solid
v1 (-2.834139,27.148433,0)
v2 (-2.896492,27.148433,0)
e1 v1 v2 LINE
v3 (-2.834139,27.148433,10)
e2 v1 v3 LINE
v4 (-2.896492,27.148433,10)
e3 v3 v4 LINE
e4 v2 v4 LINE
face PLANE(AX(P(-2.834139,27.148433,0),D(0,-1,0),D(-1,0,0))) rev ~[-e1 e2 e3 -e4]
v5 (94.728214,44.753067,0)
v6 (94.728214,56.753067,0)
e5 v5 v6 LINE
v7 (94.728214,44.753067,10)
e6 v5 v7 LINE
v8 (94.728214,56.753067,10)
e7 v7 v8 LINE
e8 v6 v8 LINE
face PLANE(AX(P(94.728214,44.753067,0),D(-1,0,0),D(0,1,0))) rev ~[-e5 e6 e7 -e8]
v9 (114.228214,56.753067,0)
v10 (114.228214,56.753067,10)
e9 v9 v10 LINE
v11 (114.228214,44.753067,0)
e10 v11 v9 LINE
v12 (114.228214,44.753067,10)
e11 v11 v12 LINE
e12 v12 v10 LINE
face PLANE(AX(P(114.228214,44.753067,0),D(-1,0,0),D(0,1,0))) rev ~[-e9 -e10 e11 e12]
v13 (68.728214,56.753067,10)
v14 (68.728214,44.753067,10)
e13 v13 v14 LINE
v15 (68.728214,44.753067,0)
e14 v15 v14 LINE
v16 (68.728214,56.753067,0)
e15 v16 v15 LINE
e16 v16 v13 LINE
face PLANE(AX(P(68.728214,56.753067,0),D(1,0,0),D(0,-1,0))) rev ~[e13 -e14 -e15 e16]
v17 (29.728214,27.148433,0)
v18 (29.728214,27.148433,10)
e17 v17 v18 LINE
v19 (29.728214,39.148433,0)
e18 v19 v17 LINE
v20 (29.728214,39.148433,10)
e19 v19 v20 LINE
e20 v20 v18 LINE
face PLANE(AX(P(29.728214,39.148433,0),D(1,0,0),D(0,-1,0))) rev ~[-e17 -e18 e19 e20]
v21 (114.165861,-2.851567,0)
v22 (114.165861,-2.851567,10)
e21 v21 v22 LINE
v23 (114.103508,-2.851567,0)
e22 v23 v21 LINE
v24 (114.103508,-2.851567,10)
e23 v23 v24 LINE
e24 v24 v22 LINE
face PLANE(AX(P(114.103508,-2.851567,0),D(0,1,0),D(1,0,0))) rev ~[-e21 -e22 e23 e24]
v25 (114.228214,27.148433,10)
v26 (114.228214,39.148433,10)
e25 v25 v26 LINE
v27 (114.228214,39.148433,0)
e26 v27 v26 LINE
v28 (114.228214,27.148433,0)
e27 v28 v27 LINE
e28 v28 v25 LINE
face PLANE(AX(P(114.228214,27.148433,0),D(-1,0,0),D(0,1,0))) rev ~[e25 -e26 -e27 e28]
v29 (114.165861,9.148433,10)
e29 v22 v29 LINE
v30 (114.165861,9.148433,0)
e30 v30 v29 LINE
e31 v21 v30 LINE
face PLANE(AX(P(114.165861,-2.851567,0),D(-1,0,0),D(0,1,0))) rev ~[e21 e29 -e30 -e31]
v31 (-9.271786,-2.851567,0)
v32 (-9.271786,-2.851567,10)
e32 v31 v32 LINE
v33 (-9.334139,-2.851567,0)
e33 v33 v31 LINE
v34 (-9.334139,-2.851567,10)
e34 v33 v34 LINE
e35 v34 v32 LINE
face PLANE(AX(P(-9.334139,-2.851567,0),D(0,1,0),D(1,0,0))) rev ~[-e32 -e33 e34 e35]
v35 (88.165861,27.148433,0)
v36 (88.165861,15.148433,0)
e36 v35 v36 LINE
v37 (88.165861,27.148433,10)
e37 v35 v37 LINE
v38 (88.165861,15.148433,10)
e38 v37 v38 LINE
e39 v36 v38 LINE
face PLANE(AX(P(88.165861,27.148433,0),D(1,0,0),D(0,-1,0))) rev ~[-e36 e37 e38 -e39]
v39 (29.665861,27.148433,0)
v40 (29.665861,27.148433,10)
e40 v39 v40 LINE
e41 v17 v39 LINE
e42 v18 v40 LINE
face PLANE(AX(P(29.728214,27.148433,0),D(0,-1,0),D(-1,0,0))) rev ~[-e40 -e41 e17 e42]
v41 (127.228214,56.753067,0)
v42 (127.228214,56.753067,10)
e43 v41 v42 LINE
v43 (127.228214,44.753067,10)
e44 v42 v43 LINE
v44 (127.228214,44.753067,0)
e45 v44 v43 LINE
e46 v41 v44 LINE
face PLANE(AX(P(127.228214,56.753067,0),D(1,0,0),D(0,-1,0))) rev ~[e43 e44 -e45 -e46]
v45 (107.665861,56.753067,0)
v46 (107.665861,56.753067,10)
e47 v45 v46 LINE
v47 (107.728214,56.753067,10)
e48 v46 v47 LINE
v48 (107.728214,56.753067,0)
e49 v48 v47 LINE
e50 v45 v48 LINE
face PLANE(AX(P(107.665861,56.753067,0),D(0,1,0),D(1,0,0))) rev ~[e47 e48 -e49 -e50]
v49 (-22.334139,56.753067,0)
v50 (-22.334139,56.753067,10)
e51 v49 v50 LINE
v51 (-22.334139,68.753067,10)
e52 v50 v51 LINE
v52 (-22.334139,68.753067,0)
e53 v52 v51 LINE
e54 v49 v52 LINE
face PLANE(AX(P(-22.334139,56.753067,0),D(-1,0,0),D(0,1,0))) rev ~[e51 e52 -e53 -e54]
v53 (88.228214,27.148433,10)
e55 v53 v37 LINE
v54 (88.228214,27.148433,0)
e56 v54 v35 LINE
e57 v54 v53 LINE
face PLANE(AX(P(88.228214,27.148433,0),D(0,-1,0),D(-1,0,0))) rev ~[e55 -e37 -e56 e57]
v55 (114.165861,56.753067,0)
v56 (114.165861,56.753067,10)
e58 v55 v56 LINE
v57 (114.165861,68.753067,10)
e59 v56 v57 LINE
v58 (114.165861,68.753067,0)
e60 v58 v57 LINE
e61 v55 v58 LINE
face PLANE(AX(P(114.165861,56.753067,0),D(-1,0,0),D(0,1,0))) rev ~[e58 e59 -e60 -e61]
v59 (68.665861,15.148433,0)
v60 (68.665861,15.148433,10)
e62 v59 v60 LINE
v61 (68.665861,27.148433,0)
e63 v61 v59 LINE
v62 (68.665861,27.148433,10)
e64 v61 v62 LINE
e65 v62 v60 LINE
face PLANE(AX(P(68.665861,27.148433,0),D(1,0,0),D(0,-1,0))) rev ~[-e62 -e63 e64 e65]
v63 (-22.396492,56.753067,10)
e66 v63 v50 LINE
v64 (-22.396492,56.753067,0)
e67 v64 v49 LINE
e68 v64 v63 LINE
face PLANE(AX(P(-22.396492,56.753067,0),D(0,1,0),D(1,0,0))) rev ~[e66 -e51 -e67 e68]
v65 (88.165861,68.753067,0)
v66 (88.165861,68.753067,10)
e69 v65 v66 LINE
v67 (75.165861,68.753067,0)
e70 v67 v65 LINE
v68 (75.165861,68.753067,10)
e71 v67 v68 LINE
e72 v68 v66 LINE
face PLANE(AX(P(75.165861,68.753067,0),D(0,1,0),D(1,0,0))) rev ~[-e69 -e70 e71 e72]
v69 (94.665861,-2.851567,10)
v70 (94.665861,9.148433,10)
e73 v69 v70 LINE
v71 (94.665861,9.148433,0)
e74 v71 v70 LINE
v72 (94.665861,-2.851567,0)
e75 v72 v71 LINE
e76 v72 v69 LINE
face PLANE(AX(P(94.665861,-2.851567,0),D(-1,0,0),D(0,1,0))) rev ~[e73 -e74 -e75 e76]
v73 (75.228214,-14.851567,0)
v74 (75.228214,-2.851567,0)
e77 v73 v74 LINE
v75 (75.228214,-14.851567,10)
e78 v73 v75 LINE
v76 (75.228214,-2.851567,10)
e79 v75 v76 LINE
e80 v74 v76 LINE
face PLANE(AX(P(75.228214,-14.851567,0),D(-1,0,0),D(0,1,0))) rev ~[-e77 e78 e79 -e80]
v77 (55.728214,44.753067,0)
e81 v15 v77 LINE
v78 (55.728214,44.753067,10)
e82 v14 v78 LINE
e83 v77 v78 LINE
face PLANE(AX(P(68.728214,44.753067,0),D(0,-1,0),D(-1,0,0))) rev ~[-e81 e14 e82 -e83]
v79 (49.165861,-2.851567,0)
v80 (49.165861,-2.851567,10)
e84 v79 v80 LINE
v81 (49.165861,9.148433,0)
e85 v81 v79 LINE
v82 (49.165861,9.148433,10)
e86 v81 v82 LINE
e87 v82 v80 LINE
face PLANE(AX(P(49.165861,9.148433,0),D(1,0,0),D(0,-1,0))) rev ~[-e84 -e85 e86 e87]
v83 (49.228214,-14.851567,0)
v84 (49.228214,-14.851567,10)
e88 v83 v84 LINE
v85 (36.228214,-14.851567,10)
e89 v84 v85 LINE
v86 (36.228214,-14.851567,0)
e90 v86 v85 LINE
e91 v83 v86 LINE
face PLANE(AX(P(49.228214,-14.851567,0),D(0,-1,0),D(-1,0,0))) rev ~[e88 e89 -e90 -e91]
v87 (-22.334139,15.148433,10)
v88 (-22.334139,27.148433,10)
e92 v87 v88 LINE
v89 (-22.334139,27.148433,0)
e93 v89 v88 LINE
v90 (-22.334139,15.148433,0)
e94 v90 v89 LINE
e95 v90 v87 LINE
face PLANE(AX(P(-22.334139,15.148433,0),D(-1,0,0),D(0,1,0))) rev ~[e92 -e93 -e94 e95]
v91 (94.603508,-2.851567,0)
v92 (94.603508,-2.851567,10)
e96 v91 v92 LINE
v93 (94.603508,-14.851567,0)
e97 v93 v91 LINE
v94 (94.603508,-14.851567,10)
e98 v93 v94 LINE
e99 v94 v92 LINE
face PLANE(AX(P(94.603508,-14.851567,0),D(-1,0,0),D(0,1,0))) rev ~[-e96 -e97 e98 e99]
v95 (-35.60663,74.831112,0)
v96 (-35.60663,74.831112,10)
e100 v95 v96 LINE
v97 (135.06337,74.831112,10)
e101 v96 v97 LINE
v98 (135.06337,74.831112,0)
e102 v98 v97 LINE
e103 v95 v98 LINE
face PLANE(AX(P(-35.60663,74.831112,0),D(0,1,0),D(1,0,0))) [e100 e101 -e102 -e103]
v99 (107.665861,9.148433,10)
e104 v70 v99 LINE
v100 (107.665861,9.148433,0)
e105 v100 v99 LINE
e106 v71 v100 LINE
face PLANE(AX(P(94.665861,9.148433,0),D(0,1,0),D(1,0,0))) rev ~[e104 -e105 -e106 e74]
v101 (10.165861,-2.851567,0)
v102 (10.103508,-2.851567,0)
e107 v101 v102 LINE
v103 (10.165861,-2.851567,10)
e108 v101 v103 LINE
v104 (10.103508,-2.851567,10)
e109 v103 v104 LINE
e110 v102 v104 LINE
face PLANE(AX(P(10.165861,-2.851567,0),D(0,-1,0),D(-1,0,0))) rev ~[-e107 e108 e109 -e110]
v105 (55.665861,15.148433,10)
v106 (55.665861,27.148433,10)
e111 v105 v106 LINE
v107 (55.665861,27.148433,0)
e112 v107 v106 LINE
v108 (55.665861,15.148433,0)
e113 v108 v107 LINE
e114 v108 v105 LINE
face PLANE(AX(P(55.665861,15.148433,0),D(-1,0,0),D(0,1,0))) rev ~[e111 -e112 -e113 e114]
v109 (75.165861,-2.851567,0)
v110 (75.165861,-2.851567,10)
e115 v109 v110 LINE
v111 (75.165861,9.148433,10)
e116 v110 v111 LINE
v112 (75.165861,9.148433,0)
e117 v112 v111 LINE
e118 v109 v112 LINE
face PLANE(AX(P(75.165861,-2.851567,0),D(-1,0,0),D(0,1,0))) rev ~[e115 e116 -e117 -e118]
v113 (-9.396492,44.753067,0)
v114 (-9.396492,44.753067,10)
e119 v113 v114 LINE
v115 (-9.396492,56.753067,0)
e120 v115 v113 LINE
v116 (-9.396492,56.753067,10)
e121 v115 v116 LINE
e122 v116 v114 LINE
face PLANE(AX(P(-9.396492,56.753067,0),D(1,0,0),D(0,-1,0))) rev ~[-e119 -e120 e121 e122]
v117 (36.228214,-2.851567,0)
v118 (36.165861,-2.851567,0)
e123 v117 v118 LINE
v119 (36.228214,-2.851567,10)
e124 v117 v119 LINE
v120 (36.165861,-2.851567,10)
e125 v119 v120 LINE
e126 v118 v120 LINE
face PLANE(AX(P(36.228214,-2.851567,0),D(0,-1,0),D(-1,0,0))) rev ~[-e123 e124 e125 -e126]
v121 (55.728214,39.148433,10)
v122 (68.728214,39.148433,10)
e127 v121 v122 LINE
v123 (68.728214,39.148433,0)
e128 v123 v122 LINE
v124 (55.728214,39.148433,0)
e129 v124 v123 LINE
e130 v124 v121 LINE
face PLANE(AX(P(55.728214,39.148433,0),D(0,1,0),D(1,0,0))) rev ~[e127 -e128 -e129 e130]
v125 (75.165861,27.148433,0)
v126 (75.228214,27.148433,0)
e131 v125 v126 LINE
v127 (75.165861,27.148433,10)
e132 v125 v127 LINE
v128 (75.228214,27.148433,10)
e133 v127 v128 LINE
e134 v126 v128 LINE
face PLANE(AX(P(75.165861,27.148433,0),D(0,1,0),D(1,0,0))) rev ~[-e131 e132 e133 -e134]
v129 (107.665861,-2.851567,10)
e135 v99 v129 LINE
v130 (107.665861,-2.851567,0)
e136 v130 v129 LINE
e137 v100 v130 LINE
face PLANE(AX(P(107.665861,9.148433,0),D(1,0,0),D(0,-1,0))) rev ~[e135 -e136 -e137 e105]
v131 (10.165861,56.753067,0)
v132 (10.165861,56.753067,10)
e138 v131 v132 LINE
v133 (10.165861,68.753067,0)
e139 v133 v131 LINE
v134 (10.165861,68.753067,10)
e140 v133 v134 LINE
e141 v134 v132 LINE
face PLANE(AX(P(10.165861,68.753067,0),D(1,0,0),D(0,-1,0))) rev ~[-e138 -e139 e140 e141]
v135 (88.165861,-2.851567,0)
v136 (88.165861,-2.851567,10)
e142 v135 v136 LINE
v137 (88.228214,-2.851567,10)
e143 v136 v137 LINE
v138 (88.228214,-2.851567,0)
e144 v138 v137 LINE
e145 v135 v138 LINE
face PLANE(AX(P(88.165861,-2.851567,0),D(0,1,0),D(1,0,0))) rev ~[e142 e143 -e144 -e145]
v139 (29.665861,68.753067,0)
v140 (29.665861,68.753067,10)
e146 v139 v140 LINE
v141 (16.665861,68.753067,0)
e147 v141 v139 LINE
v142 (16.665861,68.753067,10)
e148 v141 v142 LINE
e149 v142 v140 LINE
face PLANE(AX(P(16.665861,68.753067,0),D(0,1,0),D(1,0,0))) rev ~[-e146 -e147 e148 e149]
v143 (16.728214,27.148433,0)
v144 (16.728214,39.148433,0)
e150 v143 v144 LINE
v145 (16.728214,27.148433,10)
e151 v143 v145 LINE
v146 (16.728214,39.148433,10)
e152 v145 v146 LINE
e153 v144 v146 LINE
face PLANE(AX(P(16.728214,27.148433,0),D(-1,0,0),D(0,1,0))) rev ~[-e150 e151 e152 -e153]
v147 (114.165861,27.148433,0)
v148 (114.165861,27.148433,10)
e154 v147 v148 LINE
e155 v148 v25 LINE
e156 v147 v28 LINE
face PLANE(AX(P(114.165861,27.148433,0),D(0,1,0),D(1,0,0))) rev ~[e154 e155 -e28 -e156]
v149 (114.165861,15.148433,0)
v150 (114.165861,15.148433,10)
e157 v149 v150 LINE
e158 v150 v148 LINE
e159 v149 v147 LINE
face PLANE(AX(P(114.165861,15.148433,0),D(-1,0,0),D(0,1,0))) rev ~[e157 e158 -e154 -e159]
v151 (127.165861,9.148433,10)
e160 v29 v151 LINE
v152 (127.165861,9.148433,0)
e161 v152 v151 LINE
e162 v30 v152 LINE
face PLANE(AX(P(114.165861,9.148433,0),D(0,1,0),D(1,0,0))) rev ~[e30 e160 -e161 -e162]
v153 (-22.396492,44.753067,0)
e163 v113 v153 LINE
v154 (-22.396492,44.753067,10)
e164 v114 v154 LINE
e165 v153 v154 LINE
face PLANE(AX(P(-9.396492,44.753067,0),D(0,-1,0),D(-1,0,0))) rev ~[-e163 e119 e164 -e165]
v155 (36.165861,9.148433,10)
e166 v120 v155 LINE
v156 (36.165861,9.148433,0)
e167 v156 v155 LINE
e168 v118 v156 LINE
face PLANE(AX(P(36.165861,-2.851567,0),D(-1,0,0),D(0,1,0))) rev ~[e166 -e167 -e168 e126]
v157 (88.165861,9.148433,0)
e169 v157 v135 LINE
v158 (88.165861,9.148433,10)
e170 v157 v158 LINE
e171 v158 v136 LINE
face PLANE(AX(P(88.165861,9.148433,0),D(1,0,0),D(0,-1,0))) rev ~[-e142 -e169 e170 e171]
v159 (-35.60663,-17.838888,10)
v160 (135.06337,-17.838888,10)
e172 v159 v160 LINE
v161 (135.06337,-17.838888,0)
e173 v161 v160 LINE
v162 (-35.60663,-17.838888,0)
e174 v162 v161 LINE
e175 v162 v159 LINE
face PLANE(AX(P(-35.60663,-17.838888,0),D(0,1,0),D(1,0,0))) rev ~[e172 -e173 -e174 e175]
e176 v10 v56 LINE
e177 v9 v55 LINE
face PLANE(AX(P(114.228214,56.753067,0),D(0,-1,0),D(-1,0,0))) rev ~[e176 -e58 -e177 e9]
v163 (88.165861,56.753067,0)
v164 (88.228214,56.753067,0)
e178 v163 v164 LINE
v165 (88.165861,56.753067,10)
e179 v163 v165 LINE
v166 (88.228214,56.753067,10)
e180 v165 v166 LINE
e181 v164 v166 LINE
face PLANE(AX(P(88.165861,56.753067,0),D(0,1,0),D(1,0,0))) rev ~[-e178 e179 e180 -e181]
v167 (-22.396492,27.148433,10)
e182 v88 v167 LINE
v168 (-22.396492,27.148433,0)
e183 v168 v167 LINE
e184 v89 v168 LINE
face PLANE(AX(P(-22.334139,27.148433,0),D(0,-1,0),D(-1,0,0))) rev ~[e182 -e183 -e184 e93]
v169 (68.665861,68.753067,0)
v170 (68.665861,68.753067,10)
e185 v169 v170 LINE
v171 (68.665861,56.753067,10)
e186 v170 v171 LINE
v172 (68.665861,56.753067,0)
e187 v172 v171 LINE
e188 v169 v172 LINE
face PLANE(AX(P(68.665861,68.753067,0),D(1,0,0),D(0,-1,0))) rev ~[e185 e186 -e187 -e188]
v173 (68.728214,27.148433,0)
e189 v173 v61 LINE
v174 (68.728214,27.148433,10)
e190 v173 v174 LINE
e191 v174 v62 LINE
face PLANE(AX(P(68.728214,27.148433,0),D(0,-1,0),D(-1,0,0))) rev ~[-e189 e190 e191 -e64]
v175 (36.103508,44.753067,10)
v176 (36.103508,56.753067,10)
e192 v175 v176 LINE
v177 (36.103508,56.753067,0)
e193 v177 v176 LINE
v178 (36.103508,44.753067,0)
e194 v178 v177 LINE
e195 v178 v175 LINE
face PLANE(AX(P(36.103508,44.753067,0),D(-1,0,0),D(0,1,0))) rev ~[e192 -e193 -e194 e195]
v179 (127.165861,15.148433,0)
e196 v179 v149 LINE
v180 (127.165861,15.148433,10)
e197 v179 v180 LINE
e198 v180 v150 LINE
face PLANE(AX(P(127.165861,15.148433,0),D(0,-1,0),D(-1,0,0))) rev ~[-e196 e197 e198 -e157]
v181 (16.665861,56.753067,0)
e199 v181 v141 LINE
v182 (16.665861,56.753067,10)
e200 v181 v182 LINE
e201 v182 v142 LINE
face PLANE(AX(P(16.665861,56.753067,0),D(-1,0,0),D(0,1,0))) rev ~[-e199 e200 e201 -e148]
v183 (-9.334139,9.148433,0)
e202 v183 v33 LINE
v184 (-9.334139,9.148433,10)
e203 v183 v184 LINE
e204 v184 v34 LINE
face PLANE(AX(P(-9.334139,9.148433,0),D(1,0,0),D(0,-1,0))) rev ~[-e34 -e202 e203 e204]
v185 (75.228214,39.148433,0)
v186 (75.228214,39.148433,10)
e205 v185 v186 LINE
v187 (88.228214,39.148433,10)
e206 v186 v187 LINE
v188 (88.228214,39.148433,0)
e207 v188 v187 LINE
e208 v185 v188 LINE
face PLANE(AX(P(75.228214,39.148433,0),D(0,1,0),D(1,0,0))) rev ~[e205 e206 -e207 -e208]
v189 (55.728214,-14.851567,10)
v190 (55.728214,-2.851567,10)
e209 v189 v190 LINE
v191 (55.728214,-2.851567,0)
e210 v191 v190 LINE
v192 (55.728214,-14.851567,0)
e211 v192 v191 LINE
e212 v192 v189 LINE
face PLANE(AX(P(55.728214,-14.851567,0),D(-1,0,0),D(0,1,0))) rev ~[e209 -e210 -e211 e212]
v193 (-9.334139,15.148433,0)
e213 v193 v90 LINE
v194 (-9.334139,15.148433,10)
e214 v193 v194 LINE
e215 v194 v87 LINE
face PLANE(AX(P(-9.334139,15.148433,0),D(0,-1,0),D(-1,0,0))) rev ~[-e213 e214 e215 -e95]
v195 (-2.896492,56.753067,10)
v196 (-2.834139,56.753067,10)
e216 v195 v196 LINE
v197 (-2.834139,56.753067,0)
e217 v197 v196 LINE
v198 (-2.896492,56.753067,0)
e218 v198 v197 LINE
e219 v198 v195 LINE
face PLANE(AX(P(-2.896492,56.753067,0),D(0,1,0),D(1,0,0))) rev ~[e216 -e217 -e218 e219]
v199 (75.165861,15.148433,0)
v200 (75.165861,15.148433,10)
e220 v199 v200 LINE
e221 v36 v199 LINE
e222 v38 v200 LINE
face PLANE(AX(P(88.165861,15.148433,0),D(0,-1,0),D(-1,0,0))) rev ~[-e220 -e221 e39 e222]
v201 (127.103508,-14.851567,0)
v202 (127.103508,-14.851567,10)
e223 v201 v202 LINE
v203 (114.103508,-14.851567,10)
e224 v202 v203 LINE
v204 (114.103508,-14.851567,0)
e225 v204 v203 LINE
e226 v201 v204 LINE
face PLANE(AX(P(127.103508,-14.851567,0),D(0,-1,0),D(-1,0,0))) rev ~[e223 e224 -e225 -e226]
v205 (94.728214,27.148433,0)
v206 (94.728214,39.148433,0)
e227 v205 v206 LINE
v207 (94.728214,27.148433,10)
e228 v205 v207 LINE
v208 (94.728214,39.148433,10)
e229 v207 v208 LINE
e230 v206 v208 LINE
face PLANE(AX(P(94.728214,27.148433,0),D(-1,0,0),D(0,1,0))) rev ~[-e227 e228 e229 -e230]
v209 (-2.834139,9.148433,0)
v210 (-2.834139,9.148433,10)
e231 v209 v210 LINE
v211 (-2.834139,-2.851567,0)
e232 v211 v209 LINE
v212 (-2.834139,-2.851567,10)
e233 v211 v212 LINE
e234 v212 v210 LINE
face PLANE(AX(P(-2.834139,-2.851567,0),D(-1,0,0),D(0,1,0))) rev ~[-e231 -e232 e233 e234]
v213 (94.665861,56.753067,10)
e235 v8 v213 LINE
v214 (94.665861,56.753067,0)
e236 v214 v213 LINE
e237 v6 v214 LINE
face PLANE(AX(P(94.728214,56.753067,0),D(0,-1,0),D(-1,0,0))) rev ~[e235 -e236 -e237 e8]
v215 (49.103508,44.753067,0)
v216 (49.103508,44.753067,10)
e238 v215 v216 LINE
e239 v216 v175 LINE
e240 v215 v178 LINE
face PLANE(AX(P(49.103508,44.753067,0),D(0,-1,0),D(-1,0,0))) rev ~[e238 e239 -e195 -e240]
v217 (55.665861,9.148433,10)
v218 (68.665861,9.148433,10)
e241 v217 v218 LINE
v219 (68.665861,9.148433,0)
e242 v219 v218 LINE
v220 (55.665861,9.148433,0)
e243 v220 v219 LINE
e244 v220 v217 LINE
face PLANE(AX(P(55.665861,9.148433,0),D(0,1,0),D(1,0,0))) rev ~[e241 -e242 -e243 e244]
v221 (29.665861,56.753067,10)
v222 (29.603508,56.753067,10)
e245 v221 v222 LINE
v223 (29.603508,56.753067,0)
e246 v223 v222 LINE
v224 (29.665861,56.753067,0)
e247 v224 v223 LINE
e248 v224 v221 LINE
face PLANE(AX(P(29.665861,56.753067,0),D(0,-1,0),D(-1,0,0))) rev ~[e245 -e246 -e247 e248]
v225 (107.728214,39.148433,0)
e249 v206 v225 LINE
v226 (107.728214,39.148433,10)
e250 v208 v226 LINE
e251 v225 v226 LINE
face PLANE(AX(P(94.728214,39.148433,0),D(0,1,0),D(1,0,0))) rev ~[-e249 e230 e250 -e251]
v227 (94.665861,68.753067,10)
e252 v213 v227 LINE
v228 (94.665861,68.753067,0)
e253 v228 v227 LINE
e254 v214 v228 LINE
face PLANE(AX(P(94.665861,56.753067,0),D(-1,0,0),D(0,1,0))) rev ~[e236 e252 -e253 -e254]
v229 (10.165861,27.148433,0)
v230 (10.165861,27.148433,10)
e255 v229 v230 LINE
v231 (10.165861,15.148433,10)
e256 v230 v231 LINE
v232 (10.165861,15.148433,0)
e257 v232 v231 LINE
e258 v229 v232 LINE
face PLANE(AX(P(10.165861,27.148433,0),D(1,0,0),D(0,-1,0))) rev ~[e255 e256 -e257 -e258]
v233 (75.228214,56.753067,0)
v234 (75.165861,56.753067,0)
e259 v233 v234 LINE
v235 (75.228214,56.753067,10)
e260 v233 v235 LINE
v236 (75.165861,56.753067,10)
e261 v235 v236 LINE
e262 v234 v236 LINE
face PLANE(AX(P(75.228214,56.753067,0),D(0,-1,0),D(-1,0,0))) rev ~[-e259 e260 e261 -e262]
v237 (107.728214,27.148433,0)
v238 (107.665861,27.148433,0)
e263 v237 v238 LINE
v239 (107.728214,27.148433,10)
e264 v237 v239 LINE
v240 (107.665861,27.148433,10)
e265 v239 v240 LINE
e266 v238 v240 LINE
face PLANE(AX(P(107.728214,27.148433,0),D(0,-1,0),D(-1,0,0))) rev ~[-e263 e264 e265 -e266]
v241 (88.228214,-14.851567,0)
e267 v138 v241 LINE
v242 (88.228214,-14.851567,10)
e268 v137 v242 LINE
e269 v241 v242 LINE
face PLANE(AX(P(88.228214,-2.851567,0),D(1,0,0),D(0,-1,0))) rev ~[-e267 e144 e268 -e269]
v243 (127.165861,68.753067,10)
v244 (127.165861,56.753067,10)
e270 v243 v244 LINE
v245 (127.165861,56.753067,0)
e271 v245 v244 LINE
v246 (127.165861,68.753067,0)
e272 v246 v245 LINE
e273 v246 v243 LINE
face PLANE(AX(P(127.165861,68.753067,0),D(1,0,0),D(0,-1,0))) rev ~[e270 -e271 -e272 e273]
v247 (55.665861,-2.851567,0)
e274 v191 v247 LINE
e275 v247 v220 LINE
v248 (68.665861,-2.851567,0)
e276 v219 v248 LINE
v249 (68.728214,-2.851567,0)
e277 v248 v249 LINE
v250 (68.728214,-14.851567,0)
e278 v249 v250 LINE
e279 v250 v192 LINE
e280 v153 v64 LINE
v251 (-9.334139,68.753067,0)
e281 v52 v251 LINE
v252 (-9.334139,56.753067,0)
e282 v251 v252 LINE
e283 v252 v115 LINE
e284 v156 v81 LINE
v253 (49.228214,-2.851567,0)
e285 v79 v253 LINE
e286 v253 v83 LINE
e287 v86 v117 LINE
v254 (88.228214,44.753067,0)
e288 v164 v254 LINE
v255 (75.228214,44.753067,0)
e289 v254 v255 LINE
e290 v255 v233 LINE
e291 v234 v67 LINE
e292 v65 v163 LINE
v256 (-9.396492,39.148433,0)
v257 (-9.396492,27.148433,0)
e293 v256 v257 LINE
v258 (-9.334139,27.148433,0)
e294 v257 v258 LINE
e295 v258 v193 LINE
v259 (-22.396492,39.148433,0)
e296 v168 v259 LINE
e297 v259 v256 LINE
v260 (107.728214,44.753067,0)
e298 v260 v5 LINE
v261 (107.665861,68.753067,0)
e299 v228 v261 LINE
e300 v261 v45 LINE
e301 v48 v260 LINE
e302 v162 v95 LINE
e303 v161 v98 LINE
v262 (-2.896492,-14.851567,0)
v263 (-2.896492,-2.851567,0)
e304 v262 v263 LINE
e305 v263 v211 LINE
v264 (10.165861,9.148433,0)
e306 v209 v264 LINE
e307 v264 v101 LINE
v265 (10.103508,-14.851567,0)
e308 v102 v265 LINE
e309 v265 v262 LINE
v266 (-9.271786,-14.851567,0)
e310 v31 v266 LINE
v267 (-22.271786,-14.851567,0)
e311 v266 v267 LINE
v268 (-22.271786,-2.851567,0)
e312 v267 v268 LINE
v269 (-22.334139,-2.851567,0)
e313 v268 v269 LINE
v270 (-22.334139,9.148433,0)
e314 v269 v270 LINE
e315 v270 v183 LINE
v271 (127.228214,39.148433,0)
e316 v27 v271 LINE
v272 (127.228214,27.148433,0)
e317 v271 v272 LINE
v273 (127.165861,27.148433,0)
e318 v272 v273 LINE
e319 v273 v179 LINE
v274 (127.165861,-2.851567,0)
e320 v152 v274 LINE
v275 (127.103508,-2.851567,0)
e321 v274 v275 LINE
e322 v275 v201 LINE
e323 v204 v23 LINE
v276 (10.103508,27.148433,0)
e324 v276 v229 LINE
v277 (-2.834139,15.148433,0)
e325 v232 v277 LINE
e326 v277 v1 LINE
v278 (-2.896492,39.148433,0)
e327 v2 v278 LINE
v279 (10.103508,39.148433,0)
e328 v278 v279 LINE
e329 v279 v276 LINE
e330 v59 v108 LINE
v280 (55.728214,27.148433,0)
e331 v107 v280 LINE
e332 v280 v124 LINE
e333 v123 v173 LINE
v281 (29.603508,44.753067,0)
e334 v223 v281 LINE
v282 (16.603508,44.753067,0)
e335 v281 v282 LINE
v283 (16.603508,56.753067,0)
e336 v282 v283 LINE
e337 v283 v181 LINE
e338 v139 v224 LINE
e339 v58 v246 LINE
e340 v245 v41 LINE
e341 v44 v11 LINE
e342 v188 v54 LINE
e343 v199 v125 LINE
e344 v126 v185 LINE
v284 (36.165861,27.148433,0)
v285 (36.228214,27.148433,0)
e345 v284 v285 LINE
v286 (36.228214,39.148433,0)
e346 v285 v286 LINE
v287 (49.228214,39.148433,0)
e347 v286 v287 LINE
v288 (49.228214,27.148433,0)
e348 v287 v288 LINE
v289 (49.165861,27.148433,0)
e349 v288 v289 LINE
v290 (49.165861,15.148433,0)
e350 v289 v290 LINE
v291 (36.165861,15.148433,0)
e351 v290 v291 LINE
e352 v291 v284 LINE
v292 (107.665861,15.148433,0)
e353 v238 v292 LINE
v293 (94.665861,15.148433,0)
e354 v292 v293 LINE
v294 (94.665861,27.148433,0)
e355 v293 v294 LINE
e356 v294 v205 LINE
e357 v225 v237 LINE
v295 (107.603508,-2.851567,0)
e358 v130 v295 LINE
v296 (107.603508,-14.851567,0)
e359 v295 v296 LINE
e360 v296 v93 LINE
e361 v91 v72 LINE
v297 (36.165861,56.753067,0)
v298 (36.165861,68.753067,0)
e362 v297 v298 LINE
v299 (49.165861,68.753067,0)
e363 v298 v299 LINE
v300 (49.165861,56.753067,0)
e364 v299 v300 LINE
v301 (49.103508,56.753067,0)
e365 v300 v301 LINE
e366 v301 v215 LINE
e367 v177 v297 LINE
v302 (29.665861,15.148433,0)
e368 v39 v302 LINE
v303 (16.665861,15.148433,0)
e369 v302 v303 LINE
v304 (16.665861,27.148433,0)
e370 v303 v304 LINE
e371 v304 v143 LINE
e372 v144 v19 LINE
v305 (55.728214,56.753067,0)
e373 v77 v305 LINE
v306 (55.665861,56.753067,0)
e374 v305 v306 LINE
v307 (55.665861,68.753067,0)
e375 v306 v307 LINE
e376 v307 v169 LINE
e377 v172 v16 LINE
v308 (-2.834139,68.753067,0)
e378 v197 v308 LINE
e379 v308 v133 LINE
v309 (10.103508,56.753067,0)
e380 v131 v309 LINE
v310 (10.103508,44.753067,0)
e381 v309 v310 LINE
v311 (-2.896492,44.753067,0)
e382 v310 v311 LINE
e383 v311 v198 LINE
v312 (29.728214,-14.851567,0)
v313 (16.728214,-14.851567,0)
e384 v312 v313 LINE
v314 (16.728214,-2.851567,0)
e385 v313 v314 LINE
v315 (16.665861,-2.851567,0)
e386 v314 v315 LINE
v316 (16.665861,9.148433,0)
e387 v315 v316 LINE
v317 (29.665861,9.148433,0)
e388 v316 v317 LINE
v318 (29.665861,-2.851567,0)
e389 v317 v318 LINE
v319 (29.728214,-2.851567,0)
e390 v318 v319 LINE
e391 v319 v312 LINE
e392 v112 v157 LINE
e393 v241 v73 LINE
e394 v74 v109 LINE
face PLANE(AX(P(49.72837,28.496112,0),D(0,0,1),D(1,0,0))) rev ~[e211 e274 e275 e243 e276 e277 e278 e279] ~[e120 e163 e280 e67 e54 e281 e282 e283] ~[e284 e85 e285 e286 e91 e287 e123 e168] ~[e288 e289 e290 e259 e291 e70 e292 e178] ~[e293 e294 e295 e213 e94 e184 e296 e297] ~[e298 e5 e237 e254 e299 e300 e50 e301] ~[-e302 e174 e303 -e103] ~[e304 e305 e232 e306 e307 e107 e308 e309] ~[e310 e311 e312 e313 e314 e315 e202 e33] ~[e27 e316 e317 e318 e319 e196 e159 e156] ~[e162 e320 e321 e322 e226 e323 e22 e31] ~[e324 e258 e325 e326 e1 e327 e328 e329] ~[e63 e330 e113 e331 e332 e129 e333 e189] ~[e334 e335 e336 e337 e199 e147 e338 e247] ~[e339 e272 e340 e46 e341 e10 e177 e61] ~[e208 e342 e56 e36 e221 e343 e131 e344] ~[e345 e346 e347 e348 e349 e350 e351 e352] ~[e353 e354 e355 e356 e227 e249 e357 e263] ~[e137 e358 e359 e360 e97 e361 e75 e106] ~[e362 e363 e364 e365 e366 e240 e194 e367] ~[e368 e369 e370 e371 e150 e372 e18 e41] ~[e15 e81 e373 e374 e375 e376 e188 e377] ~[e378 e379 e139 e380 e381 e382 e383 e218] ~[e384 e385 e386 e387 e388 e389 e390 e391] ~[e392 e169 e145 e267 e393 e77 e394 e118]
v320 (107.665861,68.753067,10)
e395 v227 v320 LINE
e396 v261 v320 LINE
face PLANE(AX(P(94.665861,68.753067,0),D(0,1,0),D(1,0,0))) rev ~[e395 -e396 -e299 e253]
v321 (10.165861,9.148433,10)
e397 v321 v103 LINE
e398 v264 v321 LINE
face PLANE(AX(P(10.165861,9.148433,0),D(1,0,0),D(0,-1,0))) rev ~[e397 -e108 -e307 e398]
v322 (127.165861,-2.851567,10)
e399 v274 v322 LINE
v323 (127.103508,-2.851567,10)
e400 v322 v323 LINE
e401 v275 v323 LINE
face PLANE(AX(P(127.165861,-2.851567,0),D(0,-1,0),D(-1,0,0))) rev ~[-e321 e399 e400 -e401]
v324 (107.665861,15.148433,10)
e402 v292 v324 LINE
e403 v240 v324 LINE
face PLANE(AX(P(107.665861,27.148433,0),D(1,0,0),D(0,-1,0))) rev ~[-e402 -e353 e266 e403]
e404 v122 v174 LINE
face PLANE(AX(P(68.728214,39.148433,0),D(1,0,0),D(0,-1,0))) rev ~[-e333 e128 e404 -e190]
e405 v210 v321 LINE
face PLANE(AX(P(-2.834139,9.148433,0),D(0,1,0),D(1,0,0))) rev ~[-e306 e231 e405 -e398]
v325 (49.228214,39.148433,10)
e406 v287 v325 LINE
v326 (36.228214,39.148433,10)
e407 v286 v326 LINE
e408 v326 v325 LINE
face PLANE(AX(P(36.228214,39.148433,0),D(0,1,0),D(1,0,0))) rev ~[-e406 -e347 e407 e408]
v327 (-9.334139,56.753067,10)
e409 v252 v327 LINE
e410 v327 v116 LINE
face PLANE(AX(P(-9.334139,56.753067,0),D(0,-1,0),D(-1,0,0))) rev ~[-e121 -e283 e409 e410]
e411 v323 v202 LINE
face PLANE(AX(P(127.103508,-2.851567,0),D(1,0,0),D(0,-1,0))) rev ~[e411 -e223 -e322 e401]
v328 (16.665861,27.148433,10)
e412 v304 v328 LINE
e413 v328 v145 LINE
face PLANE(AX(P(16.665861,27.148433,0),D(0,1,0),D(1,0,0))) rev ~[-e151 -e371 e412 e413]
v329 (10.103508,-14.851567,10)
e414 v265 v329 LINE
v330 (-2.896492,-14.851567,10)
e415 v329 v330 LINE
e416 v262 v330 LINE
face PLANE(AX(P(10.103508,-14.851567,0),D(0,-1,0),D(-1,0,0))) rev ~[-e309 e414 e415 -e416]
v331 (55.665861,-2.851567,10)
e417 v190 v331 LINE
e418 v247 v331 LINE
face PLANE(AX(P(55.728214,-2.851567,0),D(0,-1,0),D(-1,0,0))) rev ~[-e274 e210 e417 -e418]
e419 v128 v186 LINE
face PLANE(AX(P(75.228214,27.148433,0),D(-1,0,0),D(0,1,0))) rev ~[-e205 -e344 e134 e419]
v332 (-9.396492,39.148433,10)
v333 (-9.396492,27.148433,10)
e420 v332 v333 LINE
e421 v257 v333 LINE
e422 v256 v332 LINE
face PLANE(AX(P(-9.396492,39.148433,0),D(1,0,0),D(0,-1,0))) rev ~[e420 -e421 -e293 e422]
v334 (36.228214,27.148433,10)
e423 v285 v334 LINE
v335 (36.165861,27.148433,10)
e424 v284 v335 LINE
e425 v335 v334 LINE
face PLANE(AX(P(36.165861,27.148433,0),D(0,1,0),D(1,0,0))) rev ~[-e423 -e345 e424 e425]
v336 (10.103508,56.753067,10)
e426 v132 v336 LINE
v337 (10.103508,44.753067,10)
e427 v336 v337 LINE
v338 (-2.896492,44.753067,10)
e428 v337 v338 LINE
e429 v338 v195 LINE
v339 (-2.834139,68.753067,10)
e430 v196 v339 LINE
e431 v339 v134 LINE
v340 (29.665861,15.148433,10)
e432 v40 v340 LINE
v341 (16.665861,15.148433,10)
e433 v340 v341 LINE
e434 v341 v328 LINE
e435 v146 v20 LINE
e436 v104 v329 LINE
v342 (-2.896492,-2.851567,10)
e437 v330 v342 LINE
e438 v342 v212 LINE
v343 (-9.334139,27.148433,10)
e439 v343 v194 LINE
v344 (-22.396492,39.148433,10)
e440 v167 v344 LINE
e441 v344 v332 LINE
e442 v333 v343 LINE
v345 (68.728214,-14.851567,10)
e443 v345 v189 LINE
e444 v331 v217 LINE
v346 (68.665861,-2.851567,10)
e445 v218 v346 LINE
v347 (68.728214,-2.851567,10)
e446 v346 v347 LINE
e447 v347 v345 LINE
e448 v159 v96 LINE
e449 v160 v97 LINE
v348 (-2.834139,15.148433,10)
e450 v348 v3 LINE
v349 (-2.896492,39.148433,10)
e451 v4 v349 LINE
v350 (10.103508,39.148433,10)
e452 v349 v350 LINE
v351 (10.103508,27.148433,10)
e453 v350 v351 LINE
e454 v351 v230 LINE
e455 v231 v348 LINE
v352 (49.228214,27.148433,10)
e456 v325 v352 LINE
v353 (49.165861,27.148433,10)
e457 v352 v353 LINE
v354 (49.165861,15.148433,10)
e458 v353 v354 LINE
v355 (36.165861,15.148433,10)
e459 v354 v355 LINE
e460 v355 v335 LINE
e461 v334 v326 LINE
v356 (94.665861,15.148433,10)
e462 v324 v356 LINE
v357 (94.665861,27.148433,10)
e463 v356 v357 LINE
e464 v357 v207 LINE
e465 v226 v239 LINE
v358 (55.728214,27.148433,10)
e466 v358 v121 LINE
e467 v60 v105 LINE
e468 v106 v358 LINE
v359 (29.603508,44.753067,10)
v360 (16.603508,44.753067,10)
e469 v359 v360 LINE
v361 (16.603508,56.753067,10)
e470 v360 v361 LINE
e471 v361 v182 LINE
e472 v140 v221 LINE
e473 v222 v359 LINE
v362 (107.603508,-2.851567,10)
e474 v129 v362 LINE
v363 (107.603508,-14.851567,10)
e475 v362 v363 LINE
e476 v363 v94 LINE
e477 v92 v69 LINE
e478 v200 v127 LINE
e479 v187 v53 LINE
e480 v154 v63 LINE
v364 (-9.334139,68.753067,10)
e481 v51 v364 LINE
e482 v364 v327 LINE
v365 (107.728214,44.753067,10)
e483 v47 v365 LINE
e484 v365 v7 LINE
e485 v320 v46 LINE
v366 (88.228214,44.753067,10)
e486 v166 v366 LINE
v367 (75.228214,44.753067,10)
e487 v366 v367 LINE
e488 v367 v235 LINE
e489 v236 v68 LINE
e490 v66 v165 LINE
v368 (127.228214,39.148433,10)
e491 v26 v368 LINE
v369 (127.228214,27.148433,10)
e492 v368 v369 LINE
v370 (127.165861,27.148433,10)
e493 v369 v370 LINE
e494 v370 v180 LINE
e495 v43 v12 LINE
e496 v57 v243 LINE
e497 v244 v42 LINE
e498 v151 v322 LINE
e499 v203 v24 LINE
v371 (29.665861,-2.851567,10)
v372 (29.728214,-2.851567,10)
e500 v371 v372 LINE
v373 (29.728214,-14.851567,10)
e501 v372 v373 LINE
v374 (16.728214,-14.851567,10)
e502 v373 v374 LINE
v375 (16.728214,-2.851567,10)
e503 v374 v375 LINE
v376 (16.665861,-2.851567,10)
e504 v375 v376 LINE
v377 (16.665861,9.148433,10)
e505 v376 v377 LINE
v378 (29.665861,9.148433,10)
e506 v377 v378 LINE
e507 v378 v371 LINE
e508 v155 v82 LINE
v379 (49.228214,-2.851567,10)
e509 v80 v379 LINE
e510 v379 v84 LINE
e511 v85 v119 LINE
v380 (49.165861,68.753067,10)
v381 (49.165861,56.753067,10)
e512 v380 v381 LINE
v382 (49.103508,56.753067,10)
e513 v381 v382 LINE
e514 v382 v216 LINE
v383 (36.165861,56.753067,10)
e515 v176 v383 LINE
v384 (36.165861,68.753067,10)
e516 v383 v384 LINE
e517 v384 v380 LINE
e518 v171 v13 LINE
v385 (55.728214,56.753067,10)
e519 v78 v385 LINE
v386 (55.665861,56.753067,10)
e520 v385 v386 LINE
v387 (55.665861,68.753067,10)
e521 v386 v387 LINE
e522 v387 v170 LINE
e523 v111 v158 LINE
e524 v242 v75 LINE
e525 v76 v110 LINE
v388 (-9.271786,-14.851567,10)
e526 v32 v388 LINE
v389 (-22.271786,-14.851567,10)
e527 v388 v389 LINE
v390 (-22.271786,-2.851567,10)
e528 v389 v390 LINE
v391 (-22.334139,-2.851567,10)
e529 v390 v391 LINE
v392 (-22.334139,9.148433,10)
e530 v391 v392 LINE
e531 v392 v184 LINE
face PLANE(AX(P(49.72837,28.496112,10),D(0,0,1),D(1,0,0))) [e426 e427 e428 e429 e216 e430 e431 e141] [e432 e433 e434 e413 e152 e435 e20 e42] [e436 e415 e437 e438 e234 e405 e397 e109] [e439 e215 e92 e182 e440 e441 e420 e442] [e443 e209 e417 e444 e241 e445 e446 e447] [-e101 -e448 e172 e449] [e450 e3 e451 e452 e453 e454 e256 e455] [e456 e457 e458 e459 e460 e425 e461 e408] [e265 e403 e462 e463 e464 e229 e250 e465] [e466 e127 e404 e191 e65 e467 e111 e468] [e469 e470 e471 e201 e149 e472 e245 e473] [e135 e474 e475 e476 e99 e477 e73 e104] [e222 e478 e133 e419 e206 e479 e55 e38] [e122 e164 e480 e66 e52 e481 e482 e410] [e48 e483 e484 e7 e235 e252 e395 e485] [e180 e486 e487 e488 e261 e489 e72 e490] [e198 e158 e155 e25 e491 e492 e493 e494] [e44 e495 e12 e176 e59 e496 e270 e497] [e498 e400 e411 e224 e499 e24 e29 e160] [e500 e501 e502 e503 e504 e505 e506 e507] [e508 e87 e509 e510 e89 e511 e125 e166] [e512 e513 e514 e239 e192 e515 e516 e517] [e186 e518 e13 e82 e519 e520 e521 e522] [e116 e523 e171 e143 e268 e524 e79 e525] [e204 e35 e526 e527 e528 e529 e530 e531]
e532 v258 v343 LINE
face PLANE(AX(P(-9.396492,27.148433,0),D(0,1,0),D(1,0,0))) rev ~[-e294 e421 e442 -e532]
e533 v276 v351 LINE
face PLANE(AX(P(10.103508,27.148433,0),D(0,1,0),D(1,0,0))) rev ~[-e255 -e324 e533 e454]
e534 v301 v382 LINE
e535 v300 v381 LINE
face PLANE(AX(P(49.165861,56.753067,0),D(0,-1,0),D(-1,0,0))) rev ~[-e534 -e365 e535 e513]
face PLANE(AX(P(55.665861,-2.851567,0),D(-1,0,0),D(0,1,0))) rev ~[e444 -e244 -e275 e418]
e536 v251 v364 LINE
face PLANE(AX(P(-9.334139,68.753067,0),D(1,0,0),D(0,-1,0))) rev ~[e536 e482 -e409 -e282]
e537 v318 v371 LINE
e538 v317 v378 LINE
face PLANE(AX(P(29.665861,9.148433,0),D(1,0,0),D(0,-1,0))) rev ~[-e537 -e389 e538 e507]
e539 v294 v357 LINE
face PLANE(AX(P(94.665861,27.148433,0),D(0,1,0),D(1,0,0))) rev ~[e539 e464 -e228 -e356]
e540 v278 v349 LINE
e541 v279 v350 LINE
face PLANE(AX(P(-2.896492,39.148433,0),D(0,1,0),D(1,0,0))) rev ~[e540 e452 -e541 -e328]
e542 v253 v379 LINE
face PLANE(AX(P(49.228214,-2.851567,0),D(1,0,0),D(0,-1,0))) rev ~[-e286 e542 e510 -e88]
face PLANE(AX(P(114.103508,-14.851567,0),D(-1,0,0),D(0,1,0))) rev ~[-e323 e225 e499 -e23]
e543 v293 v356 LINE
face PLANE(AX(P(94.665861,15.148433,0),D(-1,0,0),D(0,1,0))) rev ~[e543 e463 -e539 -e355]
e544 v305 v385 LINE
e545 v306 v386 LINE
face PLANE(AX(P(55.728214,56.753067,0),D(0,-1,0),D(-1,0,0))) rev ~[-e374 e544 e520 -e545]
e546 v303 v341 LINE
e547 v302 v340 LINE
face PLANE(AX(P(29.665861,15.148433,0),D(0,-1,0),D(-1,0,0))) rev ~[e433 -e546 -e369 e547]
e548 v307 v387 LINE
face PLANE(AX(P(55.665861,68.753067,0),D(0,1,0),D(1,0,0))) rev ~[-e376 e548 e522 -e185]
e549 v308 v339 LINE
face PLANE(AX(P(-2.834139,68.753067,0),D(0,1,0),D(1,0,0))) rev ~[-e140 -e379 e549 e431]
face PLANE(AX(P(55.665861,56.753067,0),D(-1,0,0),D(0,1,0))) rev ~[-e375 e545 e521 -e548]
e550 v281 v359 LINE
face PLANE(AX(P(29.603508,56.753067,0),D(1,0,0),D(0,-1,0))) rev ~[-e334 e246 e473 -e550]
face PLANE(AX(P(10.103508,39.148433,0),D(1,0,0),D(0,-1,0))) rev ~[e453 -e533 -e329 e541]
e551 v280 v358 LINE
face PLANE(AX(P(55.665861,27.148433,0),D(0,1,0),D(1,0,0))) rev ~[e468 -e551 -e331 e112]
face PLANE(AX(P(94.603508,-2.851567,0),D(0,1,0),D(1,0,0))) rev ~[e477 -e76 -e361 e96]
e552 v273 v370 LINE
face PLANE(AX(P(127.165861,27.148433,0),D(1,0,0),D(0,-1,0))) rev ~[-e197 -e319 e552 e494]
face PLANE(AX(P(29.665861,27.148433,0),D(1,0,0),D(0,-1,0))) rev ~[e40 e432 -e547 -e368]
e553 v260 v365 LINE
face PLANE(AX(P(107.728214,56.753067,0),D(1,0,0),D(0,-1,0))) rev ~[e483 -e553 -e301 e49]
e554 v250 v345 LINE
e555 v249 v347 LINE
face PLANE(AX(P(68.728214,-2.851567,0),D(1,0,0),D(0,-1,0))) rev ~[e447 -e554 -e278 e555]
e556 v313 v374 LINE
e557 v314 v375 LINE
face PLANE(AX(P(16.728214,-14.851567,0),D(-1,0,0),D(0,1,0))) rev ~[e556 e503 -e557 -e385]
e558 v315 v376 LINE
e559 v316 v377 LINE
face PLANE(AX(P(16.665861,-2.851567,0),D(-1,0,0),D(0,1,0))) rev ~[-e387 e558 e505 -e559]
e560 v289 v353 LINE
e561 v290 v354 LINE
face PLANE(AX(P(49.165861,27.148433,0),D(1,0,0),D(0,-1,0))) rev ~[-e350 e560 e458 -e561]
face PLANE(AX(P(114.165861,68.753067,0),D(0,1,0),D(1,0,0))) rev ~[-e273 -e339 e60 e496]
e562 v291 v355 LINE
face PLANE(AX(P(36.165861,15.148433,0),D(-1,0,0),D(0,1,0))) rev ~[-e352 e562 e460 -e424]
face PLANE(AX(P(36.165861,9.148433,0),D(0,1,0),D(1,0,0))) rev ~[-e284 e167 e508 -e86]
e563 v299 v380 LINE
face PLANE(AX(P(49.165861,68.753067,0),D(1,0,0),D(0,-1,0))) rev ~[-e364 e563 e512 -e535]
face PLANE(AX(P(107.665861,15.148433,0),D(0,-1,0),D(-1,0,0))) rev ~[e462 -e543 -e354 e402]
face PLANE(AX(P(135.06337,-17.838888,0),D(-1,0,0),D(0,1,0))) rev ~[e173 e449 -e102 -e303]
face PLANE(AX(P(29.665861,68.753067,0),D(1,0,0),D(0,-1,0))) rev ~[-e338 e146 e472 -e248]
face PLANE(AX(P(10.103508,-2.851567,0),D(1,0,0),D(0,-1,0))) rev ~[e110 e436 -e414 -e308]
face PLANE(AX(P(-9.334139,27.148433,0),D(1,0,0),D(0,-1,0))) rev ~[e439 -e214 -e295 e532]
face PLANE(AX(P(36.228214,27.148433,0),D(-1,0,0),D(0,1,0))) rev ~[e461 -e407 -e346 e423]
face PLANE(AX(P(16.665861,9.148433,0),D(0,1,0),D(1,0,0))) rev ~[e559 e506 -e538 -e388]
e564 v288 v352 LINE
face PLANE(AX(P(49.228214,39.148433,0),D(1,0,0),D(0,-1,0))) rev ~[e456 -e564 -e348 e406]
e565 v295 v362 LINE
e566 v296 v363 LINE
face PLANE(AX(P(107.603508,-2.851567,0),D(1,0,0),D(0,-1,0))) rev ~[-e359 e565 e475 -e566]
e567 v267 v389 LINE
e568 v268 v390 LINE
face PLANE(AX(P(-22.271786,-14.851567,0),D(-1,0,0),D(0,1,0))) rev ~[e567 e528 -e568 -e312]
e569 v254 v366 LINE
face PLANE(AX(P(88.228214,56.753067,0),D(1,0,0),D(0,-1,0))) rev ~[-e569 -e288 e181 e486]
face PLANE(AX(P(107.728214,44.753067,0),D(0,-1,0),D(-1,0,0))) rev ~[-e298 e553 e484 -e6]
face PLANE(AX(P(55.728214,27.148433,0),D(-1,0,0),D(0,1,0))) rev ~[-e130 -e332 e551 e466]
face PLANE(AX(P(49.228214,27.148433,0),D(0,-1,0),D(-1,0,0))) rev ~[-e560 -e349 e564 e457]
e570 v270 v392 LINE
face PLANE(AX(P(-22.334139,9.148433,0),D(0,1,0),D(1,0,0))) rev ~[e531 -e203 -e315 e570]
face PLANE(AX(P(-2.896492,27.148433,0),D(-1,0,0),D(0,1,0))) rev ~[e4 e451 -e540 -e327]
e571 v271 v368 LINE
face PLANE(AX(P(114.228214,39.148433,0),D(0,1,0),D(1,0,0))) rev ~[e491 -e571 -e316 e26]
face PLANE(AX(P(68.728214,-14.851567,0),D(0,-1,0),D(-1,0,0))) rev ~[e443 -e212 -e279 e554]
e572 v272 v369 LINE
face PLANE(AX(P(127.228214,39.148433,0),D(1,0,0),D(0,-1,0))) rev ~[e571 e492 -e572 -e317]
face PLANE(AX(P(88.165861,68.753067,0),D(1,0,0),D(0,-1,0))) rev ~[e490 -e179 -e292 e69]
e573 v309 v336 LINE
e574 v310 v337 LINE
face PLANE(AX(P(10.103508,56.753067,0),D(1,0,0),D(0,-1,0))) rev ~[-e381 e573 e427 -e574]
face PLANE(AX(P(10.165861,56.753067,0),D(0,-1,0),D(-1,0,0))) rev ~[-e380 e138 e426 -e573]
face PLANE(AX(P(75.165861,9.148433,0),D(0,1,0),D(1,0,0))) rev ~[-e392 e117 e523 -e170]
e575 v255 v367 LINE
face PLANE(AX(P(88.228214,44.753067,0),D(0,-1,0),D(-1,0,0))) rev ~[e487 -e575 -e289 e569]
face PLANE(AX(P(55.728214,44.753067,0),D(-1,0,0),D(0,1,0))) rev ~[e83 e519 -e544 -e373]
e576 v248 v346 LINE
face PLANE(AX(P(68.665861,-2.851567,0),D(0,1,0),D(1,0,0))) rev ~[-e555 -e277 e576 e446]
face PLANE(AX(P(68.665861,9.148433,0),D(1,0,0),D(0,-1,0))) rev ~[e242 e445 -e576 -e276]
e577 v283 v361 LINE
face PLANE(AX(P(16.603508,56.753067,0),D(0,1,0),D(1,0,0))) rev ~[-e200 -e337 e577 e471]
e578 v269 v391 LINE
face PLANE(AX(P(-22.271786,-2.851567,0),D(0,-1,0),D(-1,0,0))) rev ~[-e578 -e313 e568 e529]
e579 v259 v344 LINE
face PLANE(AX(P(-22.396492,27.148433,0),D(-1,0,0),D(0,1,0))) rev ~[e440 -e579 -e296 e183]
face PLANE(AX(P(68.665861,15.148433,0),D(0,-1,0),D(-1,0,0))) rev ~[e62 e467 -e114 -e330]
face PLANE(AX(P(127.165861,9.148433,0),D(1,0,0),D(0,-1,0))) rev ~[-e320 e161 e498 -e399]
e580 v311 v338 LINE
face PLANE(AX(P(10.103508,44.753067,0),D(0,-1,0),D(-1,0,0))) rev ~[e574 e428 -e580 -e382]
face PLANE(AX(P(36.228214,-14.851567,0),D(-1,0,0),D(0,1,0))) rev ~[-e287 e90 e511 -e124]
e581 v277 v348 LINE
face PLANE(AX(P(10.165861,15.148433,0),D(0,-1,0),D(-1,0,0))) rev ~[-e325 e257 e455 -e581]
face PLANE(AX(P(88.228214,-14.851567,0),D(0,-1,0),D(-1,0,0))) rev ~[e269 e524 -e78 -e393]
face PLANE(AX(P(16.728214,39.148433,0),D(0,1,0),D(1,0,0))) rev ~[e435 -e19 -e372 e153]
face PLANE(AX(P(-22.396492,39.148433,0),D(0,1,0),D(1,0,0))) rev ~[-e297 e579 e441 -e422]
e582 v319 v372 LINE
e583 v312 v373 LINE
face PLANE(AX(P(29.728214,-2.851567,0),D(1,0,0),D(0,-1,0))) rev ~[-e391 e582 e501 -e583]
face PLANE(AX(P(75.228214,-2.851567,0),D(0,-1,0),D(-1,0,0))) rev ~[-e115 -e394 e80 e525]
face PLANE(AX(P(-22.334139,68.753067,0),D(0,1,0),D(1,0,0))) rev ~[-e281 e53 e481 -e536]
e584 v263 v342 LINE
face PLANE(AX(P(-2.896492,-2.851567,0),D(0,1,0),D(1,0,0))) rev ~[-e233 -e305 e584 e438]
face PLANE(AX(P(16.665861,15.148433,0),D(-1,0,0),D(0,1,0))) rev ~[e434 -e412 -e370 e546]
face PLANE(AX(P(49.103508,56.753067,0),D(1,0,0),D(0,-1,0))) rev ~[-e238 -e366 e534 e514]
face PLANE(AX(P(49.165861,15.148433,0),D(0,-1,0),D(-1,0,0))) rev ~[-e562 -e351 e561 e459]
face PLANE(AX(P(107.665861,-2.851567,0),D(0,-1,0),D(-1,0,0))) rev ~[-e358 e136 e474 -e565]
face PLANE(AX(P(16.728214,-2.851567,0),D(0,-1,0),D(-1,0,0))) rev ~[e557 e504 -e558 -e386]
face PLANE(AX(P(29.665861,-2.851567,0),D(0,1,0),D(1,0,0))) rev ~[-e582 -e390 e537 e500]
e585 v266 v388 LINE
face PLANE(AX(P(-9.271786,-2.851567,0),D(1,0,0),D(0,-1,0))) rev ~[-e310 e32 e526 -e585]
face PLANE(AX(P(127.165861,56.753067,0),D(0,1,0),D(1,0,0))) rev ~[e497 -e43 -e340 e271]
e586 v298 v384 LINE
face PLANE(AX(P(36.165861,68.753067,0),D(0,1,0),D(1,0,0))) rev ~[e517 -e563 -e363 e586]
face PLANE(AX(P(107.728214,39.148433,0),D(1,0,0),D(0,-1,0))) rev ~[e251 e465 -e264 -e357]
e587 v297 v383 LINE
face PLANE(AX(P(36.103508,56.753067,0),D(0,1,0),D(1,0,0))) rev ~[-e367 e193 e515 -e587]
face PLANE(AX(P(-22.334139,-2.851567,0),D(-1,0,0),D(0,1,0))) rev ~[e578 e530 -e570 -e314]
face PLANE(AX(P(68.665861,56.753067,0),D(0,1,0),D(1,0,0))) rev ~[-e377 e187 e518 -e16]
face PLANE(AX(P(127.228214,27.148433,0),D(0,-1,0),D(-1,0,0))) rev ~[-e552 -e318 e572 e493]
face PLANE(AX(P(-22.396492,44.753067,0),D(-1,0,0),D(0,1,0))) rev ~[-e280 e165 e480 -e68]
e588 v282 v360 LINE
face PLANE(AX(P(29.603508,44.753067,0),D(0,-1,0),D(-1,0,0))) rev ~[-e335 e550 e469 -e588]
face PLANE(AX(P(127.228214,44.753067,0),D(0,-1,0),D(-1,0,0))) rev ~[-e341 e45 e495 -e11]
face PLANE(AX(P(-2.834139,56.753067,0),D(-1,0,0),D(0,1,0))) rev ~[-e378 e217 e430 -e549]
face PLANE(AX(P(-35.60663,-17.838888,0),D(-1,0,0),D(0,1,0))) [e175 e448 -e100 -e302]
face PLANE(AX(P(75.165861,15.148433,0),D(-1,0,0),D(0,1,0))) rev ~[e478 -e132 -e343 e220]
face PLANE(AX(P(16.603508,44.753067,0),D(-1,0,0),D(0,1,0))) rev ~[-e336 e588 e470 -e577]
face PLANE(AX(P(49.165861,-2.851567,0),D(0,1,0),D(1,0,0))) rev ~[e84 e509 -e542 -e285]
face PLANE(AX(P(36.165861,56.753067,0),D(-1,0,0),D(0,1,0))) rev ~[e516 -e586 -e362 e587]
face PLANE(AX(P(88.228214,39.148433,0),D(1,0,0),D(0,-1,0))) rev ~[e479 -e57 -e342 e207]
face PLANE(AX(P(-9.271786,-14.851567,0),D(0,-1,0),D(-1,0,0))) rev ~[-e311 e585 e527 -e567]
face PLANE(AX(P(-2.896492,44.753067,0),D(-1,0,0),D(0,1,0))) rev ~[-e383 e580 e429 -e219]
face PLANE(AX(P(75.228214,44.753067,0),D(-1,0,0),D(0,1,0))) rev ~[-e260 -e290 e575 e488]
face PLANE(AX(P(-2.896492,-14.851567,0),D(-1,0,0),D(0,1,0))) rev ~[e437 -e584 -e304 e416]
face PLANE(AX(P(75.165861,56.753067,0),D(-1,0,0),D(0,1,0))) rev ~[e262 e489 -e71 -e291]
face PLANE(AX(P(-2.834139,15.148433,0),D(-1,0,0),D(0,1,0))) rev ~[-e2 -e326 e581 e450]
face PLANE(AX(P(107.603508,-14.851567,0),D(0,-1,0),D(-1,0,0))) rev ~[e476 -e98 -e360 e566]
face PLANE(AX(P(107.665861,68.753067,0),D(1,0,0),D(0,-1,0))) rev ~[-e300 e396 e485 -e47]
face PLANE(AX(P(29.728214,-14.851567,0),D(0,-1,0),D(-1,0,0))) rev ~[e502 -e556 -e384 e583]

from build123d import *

# Parameters (mm, degrees)
SKETCH1_W           = 170.67
SKETCH1_H           = 92.67
BOSS_EXTRUDE3_DEPTH = 10


with BuildPart() as part:
    # Sketch1 → Boss-Extrude3 (new body)
    with BuildSketch(Plane.XY):
        with Locations((49.728369838, 28.496112047)):
            Rectangle(SKETCH1_W, SKETCH1_H)
        Polygon((-22.271785995, -14.851567408), (-22.271785995, -2.851567408), (-22.334139111, -2.851567408), (-22.334139111, 9.148432592), (-9.334139111, 9.148432592), (-9.334139111, -2.851567408), (-9.271785995, -2.851567408), (-9.271785995, -14.851567408), align=None, mode=Mode.SUBTRACT)
        Polygon((-2.896492227, -14.851567408), (-2.896492227, -2.851567408), (-2.834139111, -2.851567408), (-2.834139111, 9.148432592), (10.165860889, 9.148432592), (10.165860889, -2.851567408), (10.103507773, -2.851567408), (10.103507773, -14.851567408), align=None, mode=Mode.SUBTRACT)
        Polygon((16.665860889, -2.851567408), (16.665860889, 9.148432592), (29.665860889, 9.148432592), (29.665860889, -2.851567408), (29.728214005, -2.851567408), (29.728214005, -14.851567408), (16.728214005, -14.851567408), (16.728214005, -2.851567408), align=None, mode=Mode.SUBTRACT)
        Polygon((36.165860889, -2.851567408), (36.165860889, 9.148432592), (49.165860889, 9.148432592), (49.165860889, -2.851567408), (49.228214005, -2.851567408), (49.228214005, -14.851567408), (36.228214005, -14.851567408), (36.228214005, -2.851567408), align=None, mode=Mode.SUBTRACT)
        Polygon((-9.334139111, 27.148432592), (-9.334139111, 15.148432592), (-22.334139111, 15.148432592), (-22.334139111, 27.148432592), (-22.396492227, 27.148432592), (-22.396492227, 39.148432592), (-9.396492227, 39.148432592), (-9.396492227, 27.148432592), align=None, mode=Mode.SUBTRACT)
        Polygon((10.165860889, 27.148432592), (10.165860889, 15.148432592), (-2.834139111, 15.148432592), (-2.834139111, 27.148432592), (-2.896492227, 27.148432592), (-2.896492227, 39.148432592), (10.103507773, 39.148432592), (10.103507773, 27.148432592), align=None, mode=Mode.SUBTRACT)
        Polygon((29.728214005, 39.148432592), (29.728214005, 27.148432592), (29.665860889, 27.148432592), (29.665860889, 15.148432592), (16.665860889, 15.148432592), (16.665860889, 27.148432592), (16.728214005, 27.148432592), (16.728214005, 39.148432592), align=None, mode=Mode.SUBTRACT)
        Polygon((49.228214005, 39.148432592), (49.228214005, 27.148432592), (49.165860889, 27.148432592), (49.165860889, 15.148432592), (36.165860889, 15.148432592), (36.165860889, 27.148432592), (36.228214005, 27.148432592), (36.228214005, 39.148432592), align=None, mode=Mode.SUBTRACT)
        Polygon((55.665860889, 9.148432592), (68.665860889, 9.148432592), (68.665860889, -2.851567408), (68.728214005, -2.851567408), (68.728214005, -14.851567408), (55.728214005, -14.851567408), (55.728214005, -2.851567408), (55.665860889, -2.851567408), align=None, mode=Mode.SUBTRACT)
        Polygon((75.165860889, 9.148432592), (88.165860889, 9.148432592), (88.165860889, -2.851567408), (88.228214005, -2.851567408), (88.228214005, -14.851567408), (75.228214005, -14.851567408), (75.228214005, -2.851567408), (75.165860889, -2.851567408), align=None, mode=Mode.SUBTRACT)
        Polygon((94.603507773, -14.851567408), (94.603507773, -2.851567408), (94.665860889, -2.851567408), (94.665860889, 9.148432592), (107.665860889, 9.148432592), (107.665860889, -2.851567408), (107.603507773, -2.851567408), (107.603507773, -14.851567408), align=None, mode=Mode.SUBTRACT)
        Polygon((127.165860889, -2.851567408), (127.103507773, -2.851567408), (127.103507773, -14.851567408), (114.103507773, -14.851567408), (114.103507773, -2.851567408), (114.165860889, -2.851567408), (114.165860889, 9.148432592), (127.165860889, 9.148432592), align=None, mode=Mode.SUBTRACT)
        Polygon((68.728214005, 39.148432592), (68.728214005, 27.148432592), (68.665860889, 27.148432592), (68.665860889, 15.148432592), (55.665860889, 15.148432592), (55.665860889, 27.148432592), (55.728214005, 27.148432592), (55.728214005, 39.148432592), align=None, mode=Mode.SUBTRACT)
        Polygon((88.228214005, 39.148432592), (88.228214005, 27.148432592), (88.165860889, 27.148432592), (88.165860889, 15.148432592), (75.165860889, 15.148432592), (75.165860889, 27.148432592), (75.228214005, 27.148432592), (75.228214005, 39.148432592), align=None, mode=Mode.SUBTRACT)
        Polygon((94.665860889, 27.148432592), (94.728214005, 27.148432592), (94.728214005, 39.148432592), (107.728214005, 39.148432592), (107.728214005, 27.148432592), (107.665860889, 27.148432592), (107.665860889, 15.148432592), (94.665860889, 15.148432592), align=None, mode=Mode.SUBTRACT)
        Polygon((127.228214005, 39.148432592), (127.228214005, 27.148432592), (127.165860889, 27.148432592), (127.165860889, 15.148432592), (114.165860889, 15.148432592), (114.165860889, 27.148432592), (114.228214005, 27.148432592), (114.228214005, 39.148432592), align=None, mode=Mode.SUBTRACT)
        Polygon((-22.396492227, 44.753067208), (-22.396492227, 56.753067208), (-22.334139111, 56.753067208), (-22.334139111, 68.753067208), (-9.334139111, 68.753067208), (-9.334139111, 56.753067208), (-9.396492227, 56.753067208), (-9.396492227, 44.753067208), align=None, mode=Mode.SUBTRACT)
        Polygon((10.165860889, 56.753067208), (10.103507773, 56.753067208), (10.103507773, 44.753067208), (-2.896492227, 44.753067208), (-2.896492227, 56.753067208), (-2.834139111, 56.753067208), (-2.834139111, 68.753067208), (10.165860889, 68.753067208), align=None, mode=Mode.SUBTRACT)
        Polygon((16.603507773, 44.753067208), (16.603507773, 56.753067208), (16.665860889, 56.753067208), (16.665860889, 68.753067208), (29.665860889, 68.753067208), (29.665860889, 56.753067208), (29.603507773, 56.753067208), (29.603507773, 44.753067208), align=None, mode=Mode.SUBTRACT)
        Polygon((36.103507773, 44.753067208), (36.103507773, 56.753067208), (36.165860889, 56.753067208), (36.165860889, 68.753067208), (49.165860889, 68.753067208), (49.165860889, 56.753067208), (49.103507773, 56.753067208), (49.103507773, 44.753067208), align=None, mode=Mode.SUBTRACT)
        Polygon((55.665860889, 68.753067208), (68.665860889, 68.753067208), (68.665860889, 56.753067208), (68.728214005, 56.753067208), (68.728214005, 44.753067208), (55.728214005, 44.753067208), (55.728214005, 56.753067208), (55.665860889, 56.753067208), align=None, mode=Mode.SUBTRACT)
        Polygon((75.165860889, 68.753067208), (88.165860889, 68.753067208), (88.165860889, 56.753067208), (88.228214005, 56.753067208), (88.228214005, 44.753067208), (75.228214005, 44.753067208), (75.228214005, 56.753067208), (75.165860889, 56.753067208), align=None, mode=Mode.SUBTRACT)
        Polygon((94.665860889, 68.753067208), (107.665860889, 68.753067208), (107.665860889, 56.753067208), (107.728214005, 56.753067208), (107.728214005, 44.753067208), (94.728214005, 44.753067208), (94.728214005, 56.753067208), (94.665860889, 56.753067208), align=None, mode=Mode.SUBTRACT)
        Polygon((114.165860889, 56.753067208), (114.165860889, 68.753067208), (127.165860889, 68.753067208), (127.165860889, 56.753067208), (127.228214005, 56.753067208), (127.228214005, 44.753067208), (114.228214005, 44.753067208), (114.228214005, 56.753067208), align=None, mode=Mode.SUBTRACT)
    extrude(amount=BOSS_EXTRUDE3_DEPTH)


solid = part.part
